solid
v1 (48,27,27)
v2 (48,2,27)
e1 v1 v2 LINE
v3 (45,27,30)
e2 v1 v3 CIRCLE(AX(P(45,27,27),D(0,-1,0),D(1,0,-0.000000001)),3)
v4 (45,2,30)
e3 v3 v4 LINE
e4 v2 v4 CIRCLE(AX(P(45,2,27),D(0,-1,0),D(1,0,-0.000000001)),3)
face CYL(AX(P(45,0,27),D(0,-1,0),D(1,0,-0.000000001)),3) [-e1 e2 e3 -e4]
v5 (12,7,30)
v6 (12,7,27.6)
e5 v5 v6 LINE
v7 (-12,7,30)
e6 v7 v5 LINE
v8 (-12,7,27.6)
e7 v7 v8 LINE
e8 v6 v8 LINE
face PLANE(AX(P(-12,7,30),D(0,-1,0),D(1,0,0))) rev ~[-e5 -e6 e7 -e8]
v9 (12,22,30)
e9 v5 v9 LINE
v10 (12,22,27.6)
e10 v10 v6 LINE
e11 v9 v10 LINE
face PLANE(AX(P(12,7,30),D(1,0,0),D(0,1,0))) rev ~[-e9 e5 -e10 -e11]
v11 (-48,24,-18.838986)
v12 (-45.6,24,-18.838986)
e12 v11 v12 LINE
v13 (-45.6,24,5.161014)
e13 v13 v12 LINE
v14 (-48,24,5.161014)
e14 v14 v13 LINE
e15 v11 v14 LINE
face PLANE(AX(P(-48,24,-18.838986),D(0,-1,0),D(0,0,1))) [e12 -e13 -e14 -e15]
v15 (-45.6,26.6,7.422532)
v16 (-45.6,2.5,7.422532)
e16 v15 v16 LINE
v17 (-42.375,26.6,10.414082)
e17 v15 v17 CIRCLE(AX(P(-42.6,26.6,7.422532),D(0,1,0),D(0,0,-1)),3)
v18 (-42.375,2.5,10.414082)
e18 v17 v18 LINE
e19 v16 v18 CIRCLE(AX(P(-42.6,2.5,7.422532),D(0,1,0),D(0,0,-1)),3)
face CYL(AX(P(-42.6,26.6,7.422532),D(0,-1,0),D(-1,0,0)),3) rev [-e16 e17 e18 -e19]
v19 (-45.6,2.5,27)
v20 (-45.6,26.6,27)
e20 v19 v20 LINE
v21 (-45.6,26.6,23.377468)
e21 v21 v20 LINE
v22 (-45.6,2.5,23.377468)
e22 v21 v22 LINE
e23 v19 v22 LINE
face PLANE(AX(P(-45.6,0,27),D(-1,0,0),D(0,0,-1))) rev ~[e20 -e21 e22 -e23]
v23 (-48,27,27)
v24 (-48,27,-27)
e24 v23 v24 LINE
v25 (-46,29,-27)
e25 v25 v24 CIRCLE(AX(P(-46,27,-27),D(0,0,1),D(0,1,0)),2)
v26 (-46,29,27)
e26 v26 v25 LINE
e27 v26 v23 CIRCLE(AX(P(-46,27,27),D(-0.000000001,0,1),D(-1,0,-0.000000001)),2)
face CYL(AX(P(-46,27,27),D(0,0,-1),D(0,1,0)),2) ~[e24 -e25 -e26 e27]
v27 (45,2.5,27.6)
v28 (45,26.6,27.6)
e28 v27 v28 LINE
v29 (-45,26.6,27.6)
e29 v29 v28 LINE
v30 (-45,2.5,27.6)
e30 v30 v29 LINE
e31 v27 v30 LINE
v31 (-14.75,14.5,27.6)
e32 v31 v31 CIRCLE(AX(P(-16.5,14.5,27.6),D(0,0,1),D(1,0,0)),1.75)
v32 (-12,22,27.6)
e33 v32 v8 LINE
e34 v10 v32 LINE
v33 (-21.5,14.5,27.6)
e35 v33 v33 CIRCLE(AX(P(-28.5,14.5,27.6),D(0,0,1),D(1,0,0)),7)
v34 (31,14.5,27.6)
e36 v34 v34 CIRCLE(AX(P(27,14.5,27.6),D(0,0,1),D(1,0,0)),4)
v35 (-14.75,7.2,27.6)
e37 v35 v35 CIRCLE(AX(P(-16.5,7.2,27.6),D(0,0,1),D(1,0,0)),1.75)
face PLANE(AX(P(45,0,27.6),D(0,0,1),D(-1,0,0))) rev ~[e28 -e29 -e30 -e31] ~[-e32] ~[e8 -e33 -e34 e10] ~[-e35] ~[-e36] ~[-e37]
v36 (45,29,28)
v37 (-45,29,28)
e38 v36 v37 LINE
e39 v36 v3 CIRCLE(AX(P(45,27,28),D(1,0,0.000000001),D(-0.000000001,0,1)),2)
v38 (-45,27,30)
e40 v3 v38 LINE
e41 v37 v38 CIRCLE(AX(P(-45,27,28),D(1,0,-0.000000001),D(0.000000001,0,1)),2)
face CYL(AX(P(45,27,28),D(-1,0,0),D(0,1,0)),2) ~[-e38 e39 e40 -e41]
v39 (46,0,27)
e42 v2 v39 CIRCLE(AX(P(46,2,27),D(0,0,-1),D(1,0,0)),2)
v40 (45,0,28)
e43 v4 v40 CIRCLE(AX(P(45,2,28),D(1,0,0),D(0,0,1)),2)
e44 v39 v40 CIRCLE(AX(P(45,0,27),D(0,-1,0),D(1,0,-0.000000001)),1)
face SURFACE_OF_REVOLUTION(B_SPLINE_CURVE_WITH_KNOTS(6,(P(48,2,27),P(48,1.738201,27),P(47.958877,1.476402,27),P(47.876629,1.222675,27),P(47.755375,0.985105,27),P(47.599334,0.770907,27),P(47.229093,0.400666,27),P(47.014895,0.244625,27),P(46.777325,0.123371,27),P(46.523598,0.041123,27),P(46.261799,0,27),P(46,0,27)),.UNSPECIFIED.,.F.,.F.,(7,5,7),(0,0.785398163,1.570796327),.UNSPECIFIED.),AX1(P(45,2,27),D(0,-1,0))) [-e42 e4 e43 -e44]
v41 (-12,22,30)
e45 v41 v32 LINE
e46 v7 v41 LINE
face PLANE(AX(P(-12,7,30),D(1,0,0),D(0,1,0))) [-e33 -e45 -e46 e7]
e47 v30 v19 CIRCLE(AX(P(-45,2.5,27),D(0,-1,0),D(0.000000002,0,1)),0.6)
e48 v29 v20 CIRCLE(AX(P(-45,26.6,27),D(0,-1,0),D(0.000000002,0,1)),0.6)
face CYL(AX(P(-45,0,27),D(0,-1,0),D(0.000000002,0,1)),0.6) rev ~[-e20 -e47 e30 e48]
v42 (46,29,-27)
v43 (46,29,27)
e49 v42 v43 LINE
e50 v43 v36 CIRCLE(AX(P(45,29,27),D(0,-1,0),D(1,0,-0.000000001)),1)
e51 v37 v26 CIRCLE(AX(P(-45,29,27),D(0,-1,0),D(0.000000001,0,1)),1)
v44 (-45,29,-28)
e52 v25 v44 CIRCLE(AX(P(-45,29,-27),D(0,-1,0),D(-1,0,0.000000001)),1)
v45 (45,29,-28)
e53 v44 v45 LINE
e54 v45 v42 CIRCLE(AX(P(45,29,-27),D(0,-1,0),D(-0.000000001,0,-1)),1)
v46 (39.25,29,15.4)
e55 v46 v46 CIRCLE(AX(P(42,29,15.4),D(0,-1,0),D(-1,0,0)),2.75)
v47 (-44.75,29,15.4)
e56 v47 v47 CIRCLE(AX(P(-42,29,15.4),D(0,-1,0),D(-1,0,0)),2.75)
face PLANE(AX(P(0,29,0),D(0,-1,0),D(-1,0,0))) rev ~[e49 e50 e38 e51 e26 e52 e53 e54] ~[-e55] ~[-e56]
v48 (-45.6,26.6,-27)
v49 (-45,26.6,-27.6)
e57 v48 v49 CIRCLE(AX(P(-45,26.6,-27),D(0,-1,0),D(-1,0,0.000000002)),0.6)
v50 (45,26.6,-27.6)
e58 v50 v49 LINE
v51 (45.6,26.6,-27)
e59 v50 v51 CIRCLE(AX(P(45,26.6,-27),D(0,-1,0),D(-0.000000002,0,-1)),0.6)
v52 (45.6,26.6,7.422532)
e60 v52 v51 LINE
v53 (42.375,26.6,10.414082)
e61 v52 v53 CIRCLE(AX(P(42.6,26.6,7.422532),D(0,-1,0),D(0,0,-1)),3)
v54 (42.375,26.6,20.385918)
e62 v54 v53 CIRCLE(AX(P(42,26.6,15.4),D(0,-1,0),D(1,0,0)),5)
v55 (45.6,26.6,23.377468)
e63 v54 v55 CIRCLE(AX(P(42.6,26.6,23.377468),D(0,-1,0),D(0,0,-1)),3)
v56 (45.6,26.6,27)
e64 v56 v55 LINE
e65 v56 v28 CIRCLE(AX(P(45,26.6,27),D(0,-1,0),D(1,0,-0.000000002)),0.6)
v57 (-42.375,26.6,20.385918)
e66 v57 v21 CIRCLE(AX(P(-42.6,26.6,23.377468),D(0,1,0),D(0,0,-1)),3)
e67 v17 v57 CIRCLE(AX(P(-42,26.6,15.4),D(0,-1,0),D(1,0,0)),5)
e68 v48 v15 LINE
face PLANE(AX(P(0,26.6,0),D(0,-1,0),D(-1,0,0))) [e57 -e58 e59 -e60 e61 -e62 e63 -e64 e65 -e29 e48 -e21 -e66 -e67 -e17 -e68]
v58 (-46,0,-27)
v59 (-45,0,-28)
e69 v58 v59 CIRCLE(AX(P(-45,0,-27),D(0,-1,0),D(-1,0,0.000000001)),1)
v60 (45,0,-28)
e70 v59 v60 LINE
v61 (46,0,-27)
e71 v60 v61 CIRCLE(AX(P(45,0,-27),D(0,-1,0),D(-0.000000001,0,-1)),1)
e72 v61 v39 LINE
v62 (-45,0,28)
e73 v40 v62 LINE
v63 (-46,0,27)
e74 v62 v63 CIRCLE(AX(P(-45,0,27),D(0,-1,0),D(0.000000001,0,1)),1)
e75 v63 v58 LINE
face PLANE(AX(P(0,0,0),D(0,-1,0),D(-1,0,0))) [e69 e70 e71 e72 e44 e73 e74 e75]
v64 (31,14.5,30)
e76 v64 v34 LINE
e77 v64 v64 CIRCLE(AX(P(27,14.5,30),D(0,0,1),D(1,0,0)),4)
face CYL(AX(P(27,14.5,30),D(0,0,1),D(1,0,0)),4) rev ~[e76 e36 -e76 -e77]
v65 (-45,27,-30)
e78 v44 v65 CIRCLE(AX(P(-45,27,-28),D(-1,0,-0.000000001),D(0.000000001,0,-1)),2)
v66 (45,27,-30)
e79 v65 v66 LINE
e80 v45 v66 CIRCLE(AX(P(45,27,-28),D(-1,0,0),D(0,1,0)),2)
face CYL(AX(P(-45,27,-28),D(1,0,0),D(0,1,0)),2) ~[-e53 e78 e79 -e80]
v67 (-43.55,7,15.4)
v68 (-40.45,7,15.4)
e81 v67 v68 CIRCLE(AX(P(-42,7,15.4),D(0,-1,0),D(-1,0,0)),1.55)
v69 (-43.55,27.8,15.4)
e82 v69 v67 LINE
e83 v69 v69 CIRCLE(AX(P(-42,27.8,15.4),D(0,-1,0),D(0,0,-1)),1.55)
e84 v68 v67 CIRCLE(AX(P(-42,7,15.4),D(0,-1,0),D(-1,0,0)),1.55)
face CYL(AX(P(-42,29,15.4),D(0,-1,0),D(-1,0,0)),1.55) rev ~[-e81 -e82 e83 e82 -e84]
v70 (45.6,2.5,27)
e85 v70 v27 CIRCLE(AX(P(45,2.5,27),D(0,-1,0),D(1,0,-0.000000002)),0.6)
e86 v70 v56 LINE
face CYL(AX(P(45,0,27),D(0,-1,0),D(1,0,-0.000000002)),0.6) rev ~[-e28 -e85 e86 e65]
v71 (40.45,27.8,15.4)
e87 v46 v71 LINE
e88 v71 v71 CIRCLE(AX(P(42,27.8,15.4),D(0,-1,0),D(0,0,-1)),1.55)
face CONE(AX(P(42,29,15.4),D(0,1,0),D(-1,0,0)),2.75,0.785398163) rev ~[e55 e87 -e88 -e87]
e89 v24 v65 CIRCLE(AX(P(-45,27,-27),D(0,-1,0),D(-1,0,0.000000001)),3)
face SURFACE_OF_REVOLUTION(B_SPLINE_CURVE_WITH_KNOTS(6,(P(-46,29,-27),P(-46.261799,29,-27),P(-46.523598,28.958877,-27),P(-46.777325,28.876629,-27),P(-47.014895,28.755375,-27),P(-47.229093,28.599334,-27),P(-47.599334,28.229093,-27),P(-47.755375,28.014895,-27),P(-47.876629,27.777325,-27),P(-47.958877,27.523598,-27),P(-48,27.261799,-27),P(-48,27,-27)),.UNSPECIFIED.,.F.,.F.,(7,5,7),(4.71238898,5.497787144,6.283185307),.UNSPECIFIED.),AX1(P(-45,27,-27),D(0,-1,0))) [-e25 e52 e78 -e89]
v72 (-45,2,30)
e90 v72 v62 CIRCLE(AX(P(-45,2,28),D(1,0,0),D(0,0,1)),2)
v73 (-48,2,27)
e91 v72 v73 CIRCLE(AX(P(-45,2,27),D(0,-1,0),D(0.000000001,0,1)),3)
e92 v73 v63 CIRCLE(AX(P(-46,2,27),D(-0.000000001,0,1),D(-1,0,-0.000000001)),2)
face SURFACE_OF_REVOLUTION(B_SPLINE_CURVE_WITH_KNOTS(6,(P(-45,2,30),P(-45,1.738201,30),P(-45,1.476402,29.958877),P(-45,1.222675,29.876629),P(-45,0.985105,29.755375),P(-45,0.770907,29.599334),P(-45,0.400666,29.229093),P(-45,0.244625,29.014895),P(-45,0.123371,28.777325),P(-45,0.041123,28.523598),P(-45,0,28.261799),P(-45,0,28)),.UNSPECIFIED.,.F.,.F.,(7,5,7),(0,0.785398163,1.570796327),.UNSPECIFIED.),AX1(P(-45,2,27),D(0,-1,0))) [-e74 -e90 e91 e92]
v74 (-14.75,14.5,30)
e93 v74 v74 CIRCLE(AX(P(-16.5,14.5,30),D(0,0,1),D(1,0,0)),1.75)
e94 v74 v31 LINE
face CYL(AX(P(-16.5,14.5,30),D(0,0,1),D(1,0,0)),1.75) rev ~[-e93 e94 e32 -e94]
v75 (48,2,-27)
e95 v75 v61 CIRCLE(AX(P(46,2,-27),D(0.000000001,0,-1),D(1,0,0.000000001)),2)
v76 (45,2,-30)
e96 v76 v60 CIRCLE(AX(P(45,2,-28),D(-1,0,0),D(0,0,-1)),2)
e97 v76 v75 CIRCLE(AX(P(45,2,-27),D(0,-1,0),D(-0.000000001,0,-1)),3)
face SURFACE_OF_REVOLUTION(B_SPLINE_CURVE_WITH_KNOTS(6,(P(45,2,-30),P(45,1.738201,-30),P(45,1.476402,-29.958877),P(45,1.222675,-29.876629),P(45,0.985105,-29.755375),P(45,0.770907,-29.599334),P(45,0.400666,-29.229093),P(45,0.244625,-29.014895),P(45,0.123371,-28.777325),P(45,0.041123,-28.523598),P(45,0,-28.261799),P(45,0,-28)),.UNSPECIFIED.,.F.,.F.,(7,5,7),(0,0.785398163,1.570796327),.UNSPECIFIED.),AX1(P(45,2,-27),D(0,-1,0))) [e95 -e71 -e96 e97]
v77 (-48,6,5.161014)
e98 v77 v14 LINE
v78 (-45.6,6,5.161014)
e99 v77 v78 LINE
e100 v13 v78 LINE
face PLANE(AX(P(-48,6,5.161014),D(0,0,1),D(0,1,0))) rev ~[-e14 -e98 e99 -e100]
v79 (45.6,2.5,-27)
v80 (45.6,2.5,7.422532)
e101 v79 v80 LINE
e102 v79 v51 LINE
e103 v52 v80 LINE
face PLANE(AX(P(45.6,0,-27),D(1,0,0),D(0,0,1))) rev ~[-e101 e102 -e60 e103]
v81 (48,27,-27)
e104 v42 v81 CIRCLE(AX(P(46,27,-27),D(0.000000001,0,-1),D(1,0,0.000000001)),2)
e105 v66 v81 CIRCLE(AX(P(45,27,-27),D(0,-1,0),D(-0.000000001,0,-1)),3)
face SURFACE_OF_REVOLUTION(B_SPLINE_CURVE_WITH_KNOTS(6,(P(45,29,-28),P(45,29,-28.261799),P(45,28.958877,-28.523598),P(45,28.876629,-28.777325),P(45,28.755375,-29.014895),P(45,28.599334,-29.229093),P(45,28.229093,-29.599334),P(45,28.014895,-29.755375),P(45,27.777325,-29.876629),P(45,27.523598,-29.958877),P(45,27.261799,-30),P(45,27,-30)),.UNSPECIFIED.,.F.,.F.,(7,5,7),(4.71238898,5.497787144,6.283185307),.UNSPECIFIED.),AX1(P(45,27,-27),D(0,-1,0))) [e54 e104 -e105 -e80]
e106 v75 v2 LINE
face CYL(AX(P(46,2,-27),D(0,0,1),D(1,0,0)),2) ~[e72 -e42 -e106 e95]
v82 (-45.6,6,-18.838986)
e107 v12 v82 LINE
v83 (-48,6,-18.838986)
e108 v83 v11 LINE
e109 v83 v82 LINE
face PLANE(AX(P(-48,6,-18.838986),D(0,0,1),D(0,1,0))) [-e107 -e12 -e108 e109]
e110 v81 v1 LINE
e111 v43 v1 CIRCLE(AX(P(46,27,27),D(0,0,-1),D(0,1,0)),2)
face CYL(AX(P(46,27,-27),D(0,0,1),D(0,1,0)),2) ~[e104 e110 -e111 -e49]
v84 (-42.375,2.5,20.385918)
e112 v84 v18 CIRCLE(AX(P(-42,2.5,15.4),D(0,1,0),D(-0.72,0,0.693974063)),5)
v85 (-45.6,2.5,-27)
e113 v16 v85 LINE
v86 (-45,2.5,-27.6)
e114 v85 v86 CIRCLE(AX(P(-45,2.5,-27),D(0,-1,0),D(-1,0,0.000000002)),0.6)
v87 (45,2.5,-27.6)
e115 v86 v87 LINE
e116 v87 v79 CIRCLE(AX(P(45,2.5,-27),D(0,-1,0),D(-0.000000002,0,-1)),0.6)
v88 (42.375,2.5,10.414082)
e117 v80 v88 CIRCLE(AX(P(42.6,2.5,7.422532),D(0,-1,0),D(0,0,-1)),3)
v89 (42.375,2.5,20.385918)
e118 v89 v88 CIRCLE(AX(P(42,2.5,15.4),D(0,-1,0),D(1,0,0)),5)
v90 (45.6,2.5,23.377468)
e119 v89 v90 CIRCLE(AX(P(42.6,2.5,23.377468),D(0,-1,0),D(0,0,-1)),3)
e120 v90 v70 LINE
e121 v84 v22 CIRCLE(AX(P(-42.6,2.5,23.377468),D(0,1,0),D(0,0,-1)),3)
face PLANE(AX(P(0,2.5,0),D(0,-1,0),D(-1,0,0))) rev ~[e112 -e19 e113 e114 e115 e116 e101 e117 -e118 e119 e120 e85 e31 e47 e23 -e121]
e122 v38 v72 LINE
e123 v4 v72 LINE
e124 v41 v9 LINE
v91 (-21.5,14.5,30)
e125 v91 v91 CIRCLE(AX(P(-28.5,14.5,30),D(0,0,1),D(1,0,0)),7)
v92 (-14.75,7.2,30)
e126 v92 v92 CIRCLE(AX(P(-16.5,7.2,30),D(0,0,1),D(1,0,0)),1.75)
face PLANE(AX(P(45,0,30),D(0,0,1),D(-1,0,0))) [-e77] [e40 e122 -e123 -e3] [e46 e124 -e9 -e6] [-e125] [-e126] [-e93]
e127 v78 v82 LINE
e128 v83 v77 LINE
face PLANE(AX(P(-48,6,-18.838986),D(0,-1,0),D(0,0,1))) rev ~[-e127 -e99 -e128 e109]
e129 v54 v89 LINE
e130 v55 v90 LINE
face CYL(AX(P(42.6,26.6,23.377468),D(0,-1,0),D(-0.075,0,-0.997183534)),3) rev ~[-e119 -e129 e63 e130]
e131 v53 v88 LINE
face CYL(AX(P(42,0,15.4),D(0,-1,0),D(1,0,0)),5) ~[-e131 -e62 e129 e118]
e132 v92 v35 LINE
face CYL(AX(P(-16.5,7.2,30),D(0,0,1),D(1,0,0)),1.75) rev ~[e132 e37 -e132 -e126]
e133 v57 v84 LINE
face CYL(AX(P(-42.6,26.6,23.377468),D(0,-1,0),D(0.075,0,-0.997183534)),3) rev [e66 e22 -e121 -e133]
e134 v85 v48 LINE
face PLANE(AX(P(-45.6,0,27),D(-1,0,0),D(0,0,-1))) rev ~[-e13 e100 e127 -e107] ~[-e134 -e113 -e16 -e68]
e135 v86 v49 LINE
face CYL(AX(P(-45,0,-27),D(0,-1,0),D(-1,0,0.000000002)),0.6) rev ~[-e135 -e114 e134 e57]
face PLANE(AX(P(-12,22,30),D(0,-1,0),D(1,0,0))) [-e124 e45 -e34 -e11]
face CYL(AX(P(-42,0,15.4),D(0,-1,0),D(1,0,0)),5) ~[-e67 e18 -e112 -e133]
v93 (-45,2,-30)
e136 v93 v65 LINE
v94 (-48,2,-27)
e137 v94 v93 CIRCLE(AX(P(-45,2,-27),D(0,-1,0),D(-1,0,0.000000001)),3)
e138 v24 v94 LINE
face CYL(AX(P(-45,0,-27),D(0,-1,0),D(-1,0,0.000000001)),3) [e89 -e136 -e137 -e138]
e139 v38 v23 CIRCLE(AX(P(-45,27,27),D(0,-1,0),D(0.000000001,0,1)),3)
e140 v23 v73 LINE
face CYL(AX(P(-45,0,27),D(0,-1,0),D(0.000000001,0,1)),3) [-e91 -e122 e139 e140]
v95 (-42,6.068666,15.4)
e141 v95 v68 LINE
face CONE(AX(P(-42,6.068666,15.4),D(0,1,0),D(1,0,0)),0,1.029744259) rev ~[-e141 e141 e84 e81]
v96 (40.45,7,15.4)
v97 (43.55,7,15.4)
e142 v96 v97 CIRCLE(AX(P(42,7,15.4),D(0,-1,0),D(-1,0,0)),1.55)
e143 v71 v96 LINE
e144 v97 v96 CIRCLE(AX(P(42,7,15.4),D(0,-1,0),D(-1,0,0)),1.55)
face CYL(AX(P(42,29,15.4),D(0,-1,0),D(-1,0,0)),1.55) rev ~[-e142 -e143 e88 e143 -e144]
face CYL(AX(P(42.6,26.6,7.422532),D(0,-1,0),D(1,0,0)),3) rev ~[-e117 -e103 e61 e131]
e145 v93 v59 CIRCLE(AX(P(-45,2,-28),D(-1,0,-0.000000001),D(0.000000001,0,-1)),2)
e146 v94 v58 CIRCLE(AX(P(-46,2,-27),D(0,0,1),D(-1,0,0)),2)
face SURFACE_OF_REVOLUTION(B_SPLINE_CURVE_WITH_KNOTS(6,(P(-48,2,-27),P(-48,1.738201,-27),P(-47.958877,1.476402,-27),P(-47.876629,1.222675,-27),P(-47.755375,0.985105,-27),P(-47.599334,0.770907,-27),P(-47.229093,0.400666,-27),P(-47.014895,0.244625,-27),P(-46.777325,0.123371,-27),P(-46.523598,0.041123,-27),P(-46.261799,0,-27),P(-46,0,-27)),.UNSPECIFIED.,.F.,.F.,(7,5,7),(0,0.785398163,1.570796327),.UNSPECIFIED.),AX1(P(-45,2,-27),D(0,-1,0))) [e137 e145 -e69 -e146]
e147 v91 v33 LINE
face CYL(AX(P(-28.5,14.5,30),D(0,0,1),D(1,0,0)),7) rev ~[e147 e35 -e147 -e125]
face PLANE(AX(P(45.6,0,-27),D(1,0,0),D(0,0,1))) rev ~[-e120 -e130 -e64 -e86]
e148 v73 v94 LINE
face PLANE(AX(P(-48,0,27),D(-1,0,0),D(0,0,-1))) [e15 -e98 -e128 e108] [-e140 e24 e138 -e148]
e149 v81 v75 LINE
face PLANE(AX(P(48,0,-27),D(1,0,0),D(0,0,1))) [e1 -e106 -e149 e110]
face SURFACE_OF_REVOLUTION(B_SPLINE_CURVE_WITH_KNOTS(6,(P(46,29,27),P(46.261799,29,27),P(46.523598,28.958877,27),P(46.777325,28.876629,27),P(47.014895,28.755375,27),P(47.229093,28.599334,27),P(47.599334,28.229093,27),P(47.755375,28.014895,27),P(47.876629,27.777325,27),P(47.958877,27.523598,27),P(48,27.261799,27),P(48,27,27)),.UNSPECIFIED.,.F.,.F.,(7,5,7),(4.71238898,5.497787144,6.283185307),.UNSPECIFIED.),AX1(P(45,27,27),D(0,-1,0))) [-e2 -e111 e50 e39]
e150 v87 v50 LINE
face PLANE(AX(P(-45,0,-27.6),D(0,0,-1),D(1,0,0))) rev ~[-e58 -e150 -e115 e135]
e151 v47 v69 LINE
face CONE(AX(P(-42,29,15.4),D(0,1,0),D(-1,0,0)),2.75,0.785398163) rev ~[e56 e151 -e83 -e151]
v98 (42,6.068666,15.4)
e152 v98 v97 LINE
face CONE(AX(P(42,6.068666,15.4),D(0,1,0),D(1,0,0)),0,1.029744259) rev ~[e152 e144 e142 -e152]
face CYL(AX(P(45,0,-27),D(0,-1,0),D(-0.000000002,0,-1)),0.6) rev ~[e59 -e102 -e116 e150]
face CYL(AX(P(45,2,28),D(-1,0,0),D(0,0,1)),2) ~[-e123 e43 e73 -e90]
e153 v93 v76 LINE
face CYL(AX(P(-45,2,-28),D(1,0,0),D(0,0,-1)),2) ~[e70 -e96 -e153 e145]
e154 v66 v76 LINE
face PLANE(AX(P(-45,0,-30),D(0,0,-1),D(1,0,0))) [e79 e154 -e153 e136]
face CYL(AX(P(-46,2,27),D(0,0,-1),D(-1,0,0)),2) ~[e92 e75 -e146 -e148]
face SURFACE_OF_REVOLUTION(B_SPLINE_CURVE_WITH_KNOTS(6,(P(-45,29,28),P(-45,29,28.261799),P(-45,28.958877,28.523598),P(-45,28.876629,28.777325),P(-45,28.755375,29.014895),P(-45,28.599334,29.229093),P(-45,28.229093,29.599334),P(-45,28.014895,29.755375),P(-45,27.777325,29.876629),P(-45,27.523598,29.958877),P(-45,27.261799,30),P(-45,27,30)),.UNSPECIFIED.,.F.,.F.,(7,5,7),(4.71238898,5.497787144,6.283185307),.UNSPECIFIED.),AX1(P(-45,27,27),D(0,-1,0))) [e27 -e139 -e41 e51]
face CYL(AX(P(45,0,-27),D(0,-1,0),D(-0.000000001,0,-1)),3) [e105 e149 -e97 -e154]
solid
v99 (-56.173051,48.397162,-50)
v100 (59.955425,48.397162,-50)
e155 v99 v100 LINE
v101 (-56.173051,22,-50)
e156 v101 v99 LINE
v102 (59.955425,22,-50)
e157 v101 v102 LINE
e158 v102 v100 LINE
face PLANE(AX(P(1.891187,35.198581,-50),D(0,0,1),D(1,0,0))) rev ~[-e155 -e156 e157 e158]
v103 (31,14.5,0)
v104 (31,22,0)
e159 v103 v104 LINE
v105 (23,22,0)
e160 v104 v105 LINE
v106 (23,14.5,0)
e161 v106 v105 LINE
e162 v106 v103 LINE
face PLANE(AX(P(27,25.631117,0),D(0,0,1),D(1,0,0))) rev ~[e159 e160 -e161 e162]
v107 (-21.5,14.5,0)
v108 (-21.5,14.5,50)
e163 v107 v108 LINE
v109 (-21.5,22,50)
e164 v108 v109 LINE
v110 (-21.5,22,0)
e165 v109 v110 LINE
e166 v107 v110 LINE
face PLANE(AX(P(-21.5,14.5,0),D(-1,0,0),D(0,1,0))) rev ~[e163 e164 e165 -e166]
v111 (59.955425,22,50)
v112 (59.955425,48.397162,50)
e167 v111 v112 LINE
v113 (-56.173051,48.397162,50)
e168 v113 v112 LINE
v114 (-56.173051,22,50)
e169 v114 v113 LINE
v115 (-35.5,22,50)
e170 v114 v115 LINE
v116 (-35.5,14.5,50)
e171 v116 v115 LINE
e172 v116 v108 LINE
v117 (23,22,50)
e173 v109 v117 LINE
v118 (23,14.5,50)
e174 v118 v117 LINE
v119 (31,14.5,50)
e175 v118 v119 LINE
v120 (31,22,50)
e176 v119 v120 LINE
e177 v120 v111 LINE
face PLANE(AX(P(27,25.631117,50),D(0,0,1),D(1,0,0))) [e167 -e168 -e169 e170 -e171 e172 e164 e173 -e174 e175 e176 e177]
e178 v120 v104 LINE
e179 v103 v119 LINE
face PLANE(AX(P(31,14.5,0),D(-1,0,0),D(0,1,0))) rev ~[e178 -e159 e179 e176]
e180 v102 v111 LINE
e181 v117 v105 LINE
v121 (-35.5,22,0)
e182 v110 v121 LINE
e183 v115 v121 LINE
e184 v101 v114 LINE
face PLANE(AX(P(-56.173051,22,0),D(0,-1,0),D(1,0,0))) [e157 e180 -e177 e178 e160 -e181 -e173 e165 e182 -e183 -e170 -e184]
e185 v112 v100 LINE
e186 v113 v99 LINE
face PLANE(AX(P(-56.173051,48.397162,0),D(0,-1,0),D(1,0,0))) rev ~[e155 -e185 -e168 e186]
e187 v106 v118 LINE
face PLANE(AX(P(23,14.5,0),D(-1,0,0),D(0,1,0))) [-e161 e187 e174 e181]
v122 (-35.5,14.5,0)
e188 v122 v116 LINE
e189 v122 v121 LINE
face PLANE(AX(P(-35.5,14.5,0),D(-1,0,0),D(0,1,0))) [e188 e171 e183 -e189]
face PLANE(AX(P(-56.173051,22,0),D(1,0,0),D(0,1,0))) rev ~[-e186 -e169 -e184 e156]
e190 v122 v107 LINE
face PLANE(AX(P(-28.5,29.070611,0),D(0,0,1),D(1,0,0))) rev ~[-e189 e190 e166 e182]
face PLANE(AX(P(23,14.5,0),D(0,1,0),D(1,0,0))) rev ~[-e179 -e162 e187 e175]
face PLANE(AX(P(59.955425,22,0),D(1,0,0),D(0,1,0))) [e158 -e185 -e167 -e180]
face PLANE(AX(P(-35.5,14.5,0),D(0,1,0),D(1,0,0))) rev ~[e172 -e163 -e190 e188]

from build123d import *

# Parameters (mm, degrees)
BOTTOM_DEPTH                                         = 2.5
WALLS_DEPTH                                          = 29
SKETCH3_R                                            = 5
BOLTS_DEPTH                                          = 29
TOPCOVER_START                                       = 26.6
TOPCOVER_DEPTH                                       = 2.4
CSK_FOR_M2_5_COUNTERSUNK_FLAT_HEAD_SCREW_D           = 3.1
CSK_FOR_M2_5_COUNTERSUNK_FLAT_HEAD_SCREW_DEPTH       = 22
CSK_FOR_M2_5_COUNTERSUNK_FLAT_HEAD_SCREW_CSINK_D     = 5.5
CSK_FOR_M2_5_COUNTERSUNK_FLAT_HEAD_SCREW_CSINK_ANGLE = 90
CSK_FOR_M2_5_COUNTERSUNK_FLAT_HEAD_SCREW_TIP         = 0.931333959
AC_IN_REACH                                          = 106.676
SKETCH6_W                                            = 24
SKETCH6_H                                            = 18
CONTROL_REACH                                        = 84.128
SKETCH7_R                                            = 7
SKETCH7_R_2                                          = 4
SKETCH7_R_3                                          = 1.75
SKETCH7_W                                            = 24
SKETCH7_H                                            = 15
FILLET1_R                                            = 2
SKETCH8_W                                            = 116.128476494
SKETCH8_H                                            = 26.397161715
CUT1_DEPTH                                           = 50
SKETCH9_W                                            = 14
SKETCH9_H                                            = 29.14122115
CUT2_DEPTH                                           = 50
SKETCH10_W                                           = 8
SKETCH10_H                                           = 22.262234641
CUT3_DEPTH                                           = 50
FILLET2_R                                            = 3


with BuildPart() as part:
    # Sketch1 → Bottom (new body)
    with BuildSketch(Plane(origin=(0, 0, 0), x_dir=(1, 0, 0), z_dir=(0, 1, 0))):
        with BuildLine():
            Line((-45, 30), (45, 30))
            ThreePointArc((45, 30), (47.121320344, 29.121320344), (48, 27))
            Line((48, 27), (48, -27))
            ThreePointArc((48, -27), (47.121320344, -29.121320344), (45, -30))
            Line((45, -30), (-45, -30))
            ThreePointArc((-45, -30), (-47.121320344, -29.121320344), (-48, -27))
            Line((-48, -27), (-48, 27))
            ThreePointArc((-48, 27), (-47.121320344, 29.121320344), (-45, 30))
        make_face()
    extrude(amount=BOTTOM_DEPTH)

    # Sketch1<2> → Walls (add)
    with BuildSketch(Plane(origin=(0, 0, 0), x_dir=(1, 0, 0), z_dir=(0, 1, 0))):
        with BuildLine():
            Line((-45, 30), (45, 30))
            ThreePointArc((45, 30), (47.121320344, 29.121320344), (48, 27))
            Line((48, 27), (48, -27))
            ThreePointArc((48, -27), (47.121320344, -29.121320344), (45, -30))
            Line((45, -30), (-45, -30))
            ThreePointArc((-45, -30), (-47.121320344, -29.121320344), (-48, -27))
            Line((-48, -27), (-48, 27))
            ThreePointArc((-48, 27), (-47.121320344, 29.121320344), (-45, 30))
        make_face()
        with BuildLine():
            Line((-45, 27.6), (45, 27.6))
            ThreePointArc((45, 27.6), (45.424264069, 27.424264069), (45.6, 27))
            Line((45.6, 27), (45.6, -27))
            ThreePointArc((45.6, -27), (45.424264069, -27.424264069), (45, -27.6))
            Line((45, -27.6), (-45, -27.6))
            ThreePointArc((-45, -27.6), (-45.424264069, -27.424264069), (-45.6, -27))
            Line((-45.6, -27), (-45.6, 27))
            ThreePointArc((-45.6, 27), (-45.424264069, 27.424264069), (-45, 27.6))
        make_face(mode=Mode.SUBTRACT)
    extrude(amount=WALLS_DEPTH)

    # Sketch3 → Bolts (add)
    with BuildSketch(Plane(origin=(0, 0, 0), x_dir=(1, 0, 0), z_dir=(0, 1, 0))):
        with Locations((-42, -15.4)):
            Circle(SKETCH3_R)
        with Locations((42, -15.4)):
            Circle(SKETCH3_R)
    extrude(amount=BOLTS_DEPTH)

    # Sketch1<3> → TopCover (add)
    with BuildSketch(Plane(origin=(0, 0, 0), x_dir=(1, 0, 0), z_dir=(0, 1, 0)).offset(TOPCOVER_START)):
        with BuildLine():
            Line((-45, 30), (45, 30))
            ThreePointArc((45, 30), (47.121320344, 29.121320344), (48, 27))
            Line((48, 27), (48, -27))
            ThreePointArc((48, -27), (47.121320344, -29.121320344), (45, -30))
            Line((45, -30), (-45, -30))
            ThreePointArc((-45, -30), (-47.121320344, -29.121320344), (-48, -27))
            Line((-48, -27), (-48, 27))
            ThreePointArc((-48, 27), (-47.121320344, 29.121320344), (-45, 30))
        make_face()
    extrude(amount=TOPCOVER_DEPTH)

    # CSK for M2.5 Countersunk Flat Head Screw1
    with Locations(Plane(origin=(0, 29, 0), x_dir=(1, 0, 0), z_dir=(0, 1, 0))):
        with Locations((-42, -15.4), (42, -15.4)):
            CounterSinkHole(CSK_FOR_M2_5_COUNTERSUNK_FLAT_HEAD_SCREW_D / 2, CSK_FOR_M2_5_COUNTERSUNK_FLAT_HEAD_SCREW_CSINK_D / 2, depth=CSK_FOR_M2_5_COUNTERSUNK_FLAT_HEAD_SCREW_DEPTH, counter_sink_angle=CSK_FOR_M2_5_COUNTERSUNK_FLAT_HEAD_SCREW_CSINK_ANGLE)
            with Locations((0, 0, -(CSK_FOR_M2_5_COUNTERSUNK_FLAT_HEAD_SCREW_DEPTH + CSK_FOR_M2_5_COUNTERSUNK_FLAT_HEAD_SCREW_TIP / 2))):  # 118° drill point
                Cone(0, CSK_FOR_M2_5_COUNTERSUNK_FLAT_HEAD_SCREW_D / 2, CSK_FOR_M2_5_COUNTERSUNK_FLAT_HEAD_SCREW_TIP, mode=Mode.SUBTRACT)

    # Sketch6 → AC_In (cut, up to next)
    with BuildSketch(Plane.ZY.offset(48), mode=Mode.PRIVATE) as ac_in_sk1:
        with Locations((-6.838985664, 15)):
            Rectangle(SKETCH6_W, SKETCH6_H)
    ac_in_tool1 = extrude(ac_in_sk1.sketch, amount=-AC_IN_REACH, mode=Mode.PRIVATE) & part.part
    add(ac_in_tool1.solids().sort_by_distance((-48, 15, -6.838986))[0], mode=Mode.SUBTRACT)

    # Sketch7 → Control (cut, up to next)
    with BuildSketch(Plane.XY.offset(30), mode=Mode.PRIVATE) as control_sk1:
        with Locations((-28.5, 14.5)):
            Circle(SKETCH7_R)
    control_tool1 = extrude(control_sk1.sketch, amount=-CONTROL_REACH, mode=Mode.PRIVATE) & part.part
    # Sketch7 → Control (cut, up to next)
    with BuildSketch(Plane.XY.offset(30), mode=Mode.PRIVATE) as control_sk2:
        with Locations((27, 14.5)):
            Circle(SKETCH7_R_2)
    control_tool2 = extrude(control_sk2.sketch, amount=-CONTROL_REACH, mode=Mode.PRIVATE) & part.part
    # Sketch7 → Control (cut, up to next)
    with BuildSketch(Plane.XY.offset(30), mode=Mode.PRIVATE) as control_sk3:
        with Locations((-16.5, 14.5)):
            Circle(SKETCH7_R_3)
    control_tool3 = extrude(control_sk3.sketch, amount=-CONTROL_REACH, mode=Mode.PRIVATE) & part.part
    # Sketch7 → Control (cut, up to next)
    with BuildSketch(Plane.XY.offset(30), mode=Mode.PRIVATE) as control_sk4:
        with Locations((-16.5, 7.2)):
            Circle(SKETCH7_R_3)
    control_tool4 = extrude(control_sk4.sketch, amount=-CONTROL_REACH, mode=Mode.PRIVATE) & part.part
    # Sketch7 → Control (cut, up to next)
    with BuildSketch(Plane.XY.offset(30), mode=Mode.PRIVATE) as control_sk5:
        with Locations((0, 14.5)):
            Rectangle(SKETCH7_W, SKETCH7_H)
    control_tool5 = extrude(control_sk5.sketch, amount=-CONTROL_REACH, mode=Mode.PRIVATE) & part.part
    add(control_tool1.solids().sort_by_distance((-28.5, 14.5, 30))[0], mode=Mode.SUBTRACT)
    add(control_tool2.solids().sort_by_distance((27, 14.5, 30))[0], mode=Mode.SUBTRACT)
    add(control_tool3.solids().sort_by_distance((-16.5, 14.5, 30))[0], mode=Mode.SUBTRACT)
    add(control_tool4.solids().sort_by_distance((-16.5, 7.2, 30))[0], mode=Mode.SUBTRACT)
    add(control_tool5.solids().sort_by_distance((0, 14.5, 30))[0], mode=Mode.SUBTRACT)

    # Fillet1
    fillet1_edges = [part.edges().sort_by_distance(p)[0] for p in [
        (0, 0, 30),
        (-47.121320344, 0, 29.121320344),
        (-47.121320344, 29, 29.121320344),
        (0, 29, 30),
        (47.121320344, 29, 29.121320344),
        (48, 29, 0),
        (47.121320344, 29, -29.121320344),
        (0, 29, -30),
        (-47.121320344, 29, -29.121320344),
        (-48, 29, 0),
        (-48, 0, 0),
        (-47.121320344, 0, -29.121320344),
        (0, 0, -30),
        (47.121320344, 0, -29.121320344),
        (48, 0, 0),
        (47.121320344, 0, 29.121320344),
    ]]
    fillet(fillet1_edges, radius=FILLET1_R)

    # Fillet2
    fillet2_edges = [part.edges().sort_by_distance(p)[0] for p in [
        (45.6, 14.55, 18.869870315),
        (-45.6, 14.55, 11.930129685),
        (-45.6, 14.55, 18.869870315),
        (45.6, 14.55, 11.930129685),
    ]]
    fillet(fillet2_edges, radius=FILLET2_R)


with BuildPart() as body_2:
    # Sketch8 → Cut1 (new, symmetric)
    with BuildSketch(Plane.XY):
        with Locations((1.891186967, 35.198580858)):
            Rectangle(SKETCH8_W, SKETCH8_H)
    extrude(amount=CUT1_DEPTH, both=True)

    # Sketch9 → Cut2 (add)
    with BuildSketch(Plane.XY):
        with Locations((-28.5, 29.070610575)):
            Rectangle(SKETCH9_W, SKETCH9_H)
    extrude(amount=CUT2_DEPTH)

    # Sketch10 → Cut3 (add)
    with BuildSketch(Plane.XY):
        with Locations((27, 25.63111732)):
            Rectangle(SKETCH10_W, SKETCH10_H)
    extrude(amount=CUT3_DEPTH)


solid = Compound([part.part, body_2.part])
